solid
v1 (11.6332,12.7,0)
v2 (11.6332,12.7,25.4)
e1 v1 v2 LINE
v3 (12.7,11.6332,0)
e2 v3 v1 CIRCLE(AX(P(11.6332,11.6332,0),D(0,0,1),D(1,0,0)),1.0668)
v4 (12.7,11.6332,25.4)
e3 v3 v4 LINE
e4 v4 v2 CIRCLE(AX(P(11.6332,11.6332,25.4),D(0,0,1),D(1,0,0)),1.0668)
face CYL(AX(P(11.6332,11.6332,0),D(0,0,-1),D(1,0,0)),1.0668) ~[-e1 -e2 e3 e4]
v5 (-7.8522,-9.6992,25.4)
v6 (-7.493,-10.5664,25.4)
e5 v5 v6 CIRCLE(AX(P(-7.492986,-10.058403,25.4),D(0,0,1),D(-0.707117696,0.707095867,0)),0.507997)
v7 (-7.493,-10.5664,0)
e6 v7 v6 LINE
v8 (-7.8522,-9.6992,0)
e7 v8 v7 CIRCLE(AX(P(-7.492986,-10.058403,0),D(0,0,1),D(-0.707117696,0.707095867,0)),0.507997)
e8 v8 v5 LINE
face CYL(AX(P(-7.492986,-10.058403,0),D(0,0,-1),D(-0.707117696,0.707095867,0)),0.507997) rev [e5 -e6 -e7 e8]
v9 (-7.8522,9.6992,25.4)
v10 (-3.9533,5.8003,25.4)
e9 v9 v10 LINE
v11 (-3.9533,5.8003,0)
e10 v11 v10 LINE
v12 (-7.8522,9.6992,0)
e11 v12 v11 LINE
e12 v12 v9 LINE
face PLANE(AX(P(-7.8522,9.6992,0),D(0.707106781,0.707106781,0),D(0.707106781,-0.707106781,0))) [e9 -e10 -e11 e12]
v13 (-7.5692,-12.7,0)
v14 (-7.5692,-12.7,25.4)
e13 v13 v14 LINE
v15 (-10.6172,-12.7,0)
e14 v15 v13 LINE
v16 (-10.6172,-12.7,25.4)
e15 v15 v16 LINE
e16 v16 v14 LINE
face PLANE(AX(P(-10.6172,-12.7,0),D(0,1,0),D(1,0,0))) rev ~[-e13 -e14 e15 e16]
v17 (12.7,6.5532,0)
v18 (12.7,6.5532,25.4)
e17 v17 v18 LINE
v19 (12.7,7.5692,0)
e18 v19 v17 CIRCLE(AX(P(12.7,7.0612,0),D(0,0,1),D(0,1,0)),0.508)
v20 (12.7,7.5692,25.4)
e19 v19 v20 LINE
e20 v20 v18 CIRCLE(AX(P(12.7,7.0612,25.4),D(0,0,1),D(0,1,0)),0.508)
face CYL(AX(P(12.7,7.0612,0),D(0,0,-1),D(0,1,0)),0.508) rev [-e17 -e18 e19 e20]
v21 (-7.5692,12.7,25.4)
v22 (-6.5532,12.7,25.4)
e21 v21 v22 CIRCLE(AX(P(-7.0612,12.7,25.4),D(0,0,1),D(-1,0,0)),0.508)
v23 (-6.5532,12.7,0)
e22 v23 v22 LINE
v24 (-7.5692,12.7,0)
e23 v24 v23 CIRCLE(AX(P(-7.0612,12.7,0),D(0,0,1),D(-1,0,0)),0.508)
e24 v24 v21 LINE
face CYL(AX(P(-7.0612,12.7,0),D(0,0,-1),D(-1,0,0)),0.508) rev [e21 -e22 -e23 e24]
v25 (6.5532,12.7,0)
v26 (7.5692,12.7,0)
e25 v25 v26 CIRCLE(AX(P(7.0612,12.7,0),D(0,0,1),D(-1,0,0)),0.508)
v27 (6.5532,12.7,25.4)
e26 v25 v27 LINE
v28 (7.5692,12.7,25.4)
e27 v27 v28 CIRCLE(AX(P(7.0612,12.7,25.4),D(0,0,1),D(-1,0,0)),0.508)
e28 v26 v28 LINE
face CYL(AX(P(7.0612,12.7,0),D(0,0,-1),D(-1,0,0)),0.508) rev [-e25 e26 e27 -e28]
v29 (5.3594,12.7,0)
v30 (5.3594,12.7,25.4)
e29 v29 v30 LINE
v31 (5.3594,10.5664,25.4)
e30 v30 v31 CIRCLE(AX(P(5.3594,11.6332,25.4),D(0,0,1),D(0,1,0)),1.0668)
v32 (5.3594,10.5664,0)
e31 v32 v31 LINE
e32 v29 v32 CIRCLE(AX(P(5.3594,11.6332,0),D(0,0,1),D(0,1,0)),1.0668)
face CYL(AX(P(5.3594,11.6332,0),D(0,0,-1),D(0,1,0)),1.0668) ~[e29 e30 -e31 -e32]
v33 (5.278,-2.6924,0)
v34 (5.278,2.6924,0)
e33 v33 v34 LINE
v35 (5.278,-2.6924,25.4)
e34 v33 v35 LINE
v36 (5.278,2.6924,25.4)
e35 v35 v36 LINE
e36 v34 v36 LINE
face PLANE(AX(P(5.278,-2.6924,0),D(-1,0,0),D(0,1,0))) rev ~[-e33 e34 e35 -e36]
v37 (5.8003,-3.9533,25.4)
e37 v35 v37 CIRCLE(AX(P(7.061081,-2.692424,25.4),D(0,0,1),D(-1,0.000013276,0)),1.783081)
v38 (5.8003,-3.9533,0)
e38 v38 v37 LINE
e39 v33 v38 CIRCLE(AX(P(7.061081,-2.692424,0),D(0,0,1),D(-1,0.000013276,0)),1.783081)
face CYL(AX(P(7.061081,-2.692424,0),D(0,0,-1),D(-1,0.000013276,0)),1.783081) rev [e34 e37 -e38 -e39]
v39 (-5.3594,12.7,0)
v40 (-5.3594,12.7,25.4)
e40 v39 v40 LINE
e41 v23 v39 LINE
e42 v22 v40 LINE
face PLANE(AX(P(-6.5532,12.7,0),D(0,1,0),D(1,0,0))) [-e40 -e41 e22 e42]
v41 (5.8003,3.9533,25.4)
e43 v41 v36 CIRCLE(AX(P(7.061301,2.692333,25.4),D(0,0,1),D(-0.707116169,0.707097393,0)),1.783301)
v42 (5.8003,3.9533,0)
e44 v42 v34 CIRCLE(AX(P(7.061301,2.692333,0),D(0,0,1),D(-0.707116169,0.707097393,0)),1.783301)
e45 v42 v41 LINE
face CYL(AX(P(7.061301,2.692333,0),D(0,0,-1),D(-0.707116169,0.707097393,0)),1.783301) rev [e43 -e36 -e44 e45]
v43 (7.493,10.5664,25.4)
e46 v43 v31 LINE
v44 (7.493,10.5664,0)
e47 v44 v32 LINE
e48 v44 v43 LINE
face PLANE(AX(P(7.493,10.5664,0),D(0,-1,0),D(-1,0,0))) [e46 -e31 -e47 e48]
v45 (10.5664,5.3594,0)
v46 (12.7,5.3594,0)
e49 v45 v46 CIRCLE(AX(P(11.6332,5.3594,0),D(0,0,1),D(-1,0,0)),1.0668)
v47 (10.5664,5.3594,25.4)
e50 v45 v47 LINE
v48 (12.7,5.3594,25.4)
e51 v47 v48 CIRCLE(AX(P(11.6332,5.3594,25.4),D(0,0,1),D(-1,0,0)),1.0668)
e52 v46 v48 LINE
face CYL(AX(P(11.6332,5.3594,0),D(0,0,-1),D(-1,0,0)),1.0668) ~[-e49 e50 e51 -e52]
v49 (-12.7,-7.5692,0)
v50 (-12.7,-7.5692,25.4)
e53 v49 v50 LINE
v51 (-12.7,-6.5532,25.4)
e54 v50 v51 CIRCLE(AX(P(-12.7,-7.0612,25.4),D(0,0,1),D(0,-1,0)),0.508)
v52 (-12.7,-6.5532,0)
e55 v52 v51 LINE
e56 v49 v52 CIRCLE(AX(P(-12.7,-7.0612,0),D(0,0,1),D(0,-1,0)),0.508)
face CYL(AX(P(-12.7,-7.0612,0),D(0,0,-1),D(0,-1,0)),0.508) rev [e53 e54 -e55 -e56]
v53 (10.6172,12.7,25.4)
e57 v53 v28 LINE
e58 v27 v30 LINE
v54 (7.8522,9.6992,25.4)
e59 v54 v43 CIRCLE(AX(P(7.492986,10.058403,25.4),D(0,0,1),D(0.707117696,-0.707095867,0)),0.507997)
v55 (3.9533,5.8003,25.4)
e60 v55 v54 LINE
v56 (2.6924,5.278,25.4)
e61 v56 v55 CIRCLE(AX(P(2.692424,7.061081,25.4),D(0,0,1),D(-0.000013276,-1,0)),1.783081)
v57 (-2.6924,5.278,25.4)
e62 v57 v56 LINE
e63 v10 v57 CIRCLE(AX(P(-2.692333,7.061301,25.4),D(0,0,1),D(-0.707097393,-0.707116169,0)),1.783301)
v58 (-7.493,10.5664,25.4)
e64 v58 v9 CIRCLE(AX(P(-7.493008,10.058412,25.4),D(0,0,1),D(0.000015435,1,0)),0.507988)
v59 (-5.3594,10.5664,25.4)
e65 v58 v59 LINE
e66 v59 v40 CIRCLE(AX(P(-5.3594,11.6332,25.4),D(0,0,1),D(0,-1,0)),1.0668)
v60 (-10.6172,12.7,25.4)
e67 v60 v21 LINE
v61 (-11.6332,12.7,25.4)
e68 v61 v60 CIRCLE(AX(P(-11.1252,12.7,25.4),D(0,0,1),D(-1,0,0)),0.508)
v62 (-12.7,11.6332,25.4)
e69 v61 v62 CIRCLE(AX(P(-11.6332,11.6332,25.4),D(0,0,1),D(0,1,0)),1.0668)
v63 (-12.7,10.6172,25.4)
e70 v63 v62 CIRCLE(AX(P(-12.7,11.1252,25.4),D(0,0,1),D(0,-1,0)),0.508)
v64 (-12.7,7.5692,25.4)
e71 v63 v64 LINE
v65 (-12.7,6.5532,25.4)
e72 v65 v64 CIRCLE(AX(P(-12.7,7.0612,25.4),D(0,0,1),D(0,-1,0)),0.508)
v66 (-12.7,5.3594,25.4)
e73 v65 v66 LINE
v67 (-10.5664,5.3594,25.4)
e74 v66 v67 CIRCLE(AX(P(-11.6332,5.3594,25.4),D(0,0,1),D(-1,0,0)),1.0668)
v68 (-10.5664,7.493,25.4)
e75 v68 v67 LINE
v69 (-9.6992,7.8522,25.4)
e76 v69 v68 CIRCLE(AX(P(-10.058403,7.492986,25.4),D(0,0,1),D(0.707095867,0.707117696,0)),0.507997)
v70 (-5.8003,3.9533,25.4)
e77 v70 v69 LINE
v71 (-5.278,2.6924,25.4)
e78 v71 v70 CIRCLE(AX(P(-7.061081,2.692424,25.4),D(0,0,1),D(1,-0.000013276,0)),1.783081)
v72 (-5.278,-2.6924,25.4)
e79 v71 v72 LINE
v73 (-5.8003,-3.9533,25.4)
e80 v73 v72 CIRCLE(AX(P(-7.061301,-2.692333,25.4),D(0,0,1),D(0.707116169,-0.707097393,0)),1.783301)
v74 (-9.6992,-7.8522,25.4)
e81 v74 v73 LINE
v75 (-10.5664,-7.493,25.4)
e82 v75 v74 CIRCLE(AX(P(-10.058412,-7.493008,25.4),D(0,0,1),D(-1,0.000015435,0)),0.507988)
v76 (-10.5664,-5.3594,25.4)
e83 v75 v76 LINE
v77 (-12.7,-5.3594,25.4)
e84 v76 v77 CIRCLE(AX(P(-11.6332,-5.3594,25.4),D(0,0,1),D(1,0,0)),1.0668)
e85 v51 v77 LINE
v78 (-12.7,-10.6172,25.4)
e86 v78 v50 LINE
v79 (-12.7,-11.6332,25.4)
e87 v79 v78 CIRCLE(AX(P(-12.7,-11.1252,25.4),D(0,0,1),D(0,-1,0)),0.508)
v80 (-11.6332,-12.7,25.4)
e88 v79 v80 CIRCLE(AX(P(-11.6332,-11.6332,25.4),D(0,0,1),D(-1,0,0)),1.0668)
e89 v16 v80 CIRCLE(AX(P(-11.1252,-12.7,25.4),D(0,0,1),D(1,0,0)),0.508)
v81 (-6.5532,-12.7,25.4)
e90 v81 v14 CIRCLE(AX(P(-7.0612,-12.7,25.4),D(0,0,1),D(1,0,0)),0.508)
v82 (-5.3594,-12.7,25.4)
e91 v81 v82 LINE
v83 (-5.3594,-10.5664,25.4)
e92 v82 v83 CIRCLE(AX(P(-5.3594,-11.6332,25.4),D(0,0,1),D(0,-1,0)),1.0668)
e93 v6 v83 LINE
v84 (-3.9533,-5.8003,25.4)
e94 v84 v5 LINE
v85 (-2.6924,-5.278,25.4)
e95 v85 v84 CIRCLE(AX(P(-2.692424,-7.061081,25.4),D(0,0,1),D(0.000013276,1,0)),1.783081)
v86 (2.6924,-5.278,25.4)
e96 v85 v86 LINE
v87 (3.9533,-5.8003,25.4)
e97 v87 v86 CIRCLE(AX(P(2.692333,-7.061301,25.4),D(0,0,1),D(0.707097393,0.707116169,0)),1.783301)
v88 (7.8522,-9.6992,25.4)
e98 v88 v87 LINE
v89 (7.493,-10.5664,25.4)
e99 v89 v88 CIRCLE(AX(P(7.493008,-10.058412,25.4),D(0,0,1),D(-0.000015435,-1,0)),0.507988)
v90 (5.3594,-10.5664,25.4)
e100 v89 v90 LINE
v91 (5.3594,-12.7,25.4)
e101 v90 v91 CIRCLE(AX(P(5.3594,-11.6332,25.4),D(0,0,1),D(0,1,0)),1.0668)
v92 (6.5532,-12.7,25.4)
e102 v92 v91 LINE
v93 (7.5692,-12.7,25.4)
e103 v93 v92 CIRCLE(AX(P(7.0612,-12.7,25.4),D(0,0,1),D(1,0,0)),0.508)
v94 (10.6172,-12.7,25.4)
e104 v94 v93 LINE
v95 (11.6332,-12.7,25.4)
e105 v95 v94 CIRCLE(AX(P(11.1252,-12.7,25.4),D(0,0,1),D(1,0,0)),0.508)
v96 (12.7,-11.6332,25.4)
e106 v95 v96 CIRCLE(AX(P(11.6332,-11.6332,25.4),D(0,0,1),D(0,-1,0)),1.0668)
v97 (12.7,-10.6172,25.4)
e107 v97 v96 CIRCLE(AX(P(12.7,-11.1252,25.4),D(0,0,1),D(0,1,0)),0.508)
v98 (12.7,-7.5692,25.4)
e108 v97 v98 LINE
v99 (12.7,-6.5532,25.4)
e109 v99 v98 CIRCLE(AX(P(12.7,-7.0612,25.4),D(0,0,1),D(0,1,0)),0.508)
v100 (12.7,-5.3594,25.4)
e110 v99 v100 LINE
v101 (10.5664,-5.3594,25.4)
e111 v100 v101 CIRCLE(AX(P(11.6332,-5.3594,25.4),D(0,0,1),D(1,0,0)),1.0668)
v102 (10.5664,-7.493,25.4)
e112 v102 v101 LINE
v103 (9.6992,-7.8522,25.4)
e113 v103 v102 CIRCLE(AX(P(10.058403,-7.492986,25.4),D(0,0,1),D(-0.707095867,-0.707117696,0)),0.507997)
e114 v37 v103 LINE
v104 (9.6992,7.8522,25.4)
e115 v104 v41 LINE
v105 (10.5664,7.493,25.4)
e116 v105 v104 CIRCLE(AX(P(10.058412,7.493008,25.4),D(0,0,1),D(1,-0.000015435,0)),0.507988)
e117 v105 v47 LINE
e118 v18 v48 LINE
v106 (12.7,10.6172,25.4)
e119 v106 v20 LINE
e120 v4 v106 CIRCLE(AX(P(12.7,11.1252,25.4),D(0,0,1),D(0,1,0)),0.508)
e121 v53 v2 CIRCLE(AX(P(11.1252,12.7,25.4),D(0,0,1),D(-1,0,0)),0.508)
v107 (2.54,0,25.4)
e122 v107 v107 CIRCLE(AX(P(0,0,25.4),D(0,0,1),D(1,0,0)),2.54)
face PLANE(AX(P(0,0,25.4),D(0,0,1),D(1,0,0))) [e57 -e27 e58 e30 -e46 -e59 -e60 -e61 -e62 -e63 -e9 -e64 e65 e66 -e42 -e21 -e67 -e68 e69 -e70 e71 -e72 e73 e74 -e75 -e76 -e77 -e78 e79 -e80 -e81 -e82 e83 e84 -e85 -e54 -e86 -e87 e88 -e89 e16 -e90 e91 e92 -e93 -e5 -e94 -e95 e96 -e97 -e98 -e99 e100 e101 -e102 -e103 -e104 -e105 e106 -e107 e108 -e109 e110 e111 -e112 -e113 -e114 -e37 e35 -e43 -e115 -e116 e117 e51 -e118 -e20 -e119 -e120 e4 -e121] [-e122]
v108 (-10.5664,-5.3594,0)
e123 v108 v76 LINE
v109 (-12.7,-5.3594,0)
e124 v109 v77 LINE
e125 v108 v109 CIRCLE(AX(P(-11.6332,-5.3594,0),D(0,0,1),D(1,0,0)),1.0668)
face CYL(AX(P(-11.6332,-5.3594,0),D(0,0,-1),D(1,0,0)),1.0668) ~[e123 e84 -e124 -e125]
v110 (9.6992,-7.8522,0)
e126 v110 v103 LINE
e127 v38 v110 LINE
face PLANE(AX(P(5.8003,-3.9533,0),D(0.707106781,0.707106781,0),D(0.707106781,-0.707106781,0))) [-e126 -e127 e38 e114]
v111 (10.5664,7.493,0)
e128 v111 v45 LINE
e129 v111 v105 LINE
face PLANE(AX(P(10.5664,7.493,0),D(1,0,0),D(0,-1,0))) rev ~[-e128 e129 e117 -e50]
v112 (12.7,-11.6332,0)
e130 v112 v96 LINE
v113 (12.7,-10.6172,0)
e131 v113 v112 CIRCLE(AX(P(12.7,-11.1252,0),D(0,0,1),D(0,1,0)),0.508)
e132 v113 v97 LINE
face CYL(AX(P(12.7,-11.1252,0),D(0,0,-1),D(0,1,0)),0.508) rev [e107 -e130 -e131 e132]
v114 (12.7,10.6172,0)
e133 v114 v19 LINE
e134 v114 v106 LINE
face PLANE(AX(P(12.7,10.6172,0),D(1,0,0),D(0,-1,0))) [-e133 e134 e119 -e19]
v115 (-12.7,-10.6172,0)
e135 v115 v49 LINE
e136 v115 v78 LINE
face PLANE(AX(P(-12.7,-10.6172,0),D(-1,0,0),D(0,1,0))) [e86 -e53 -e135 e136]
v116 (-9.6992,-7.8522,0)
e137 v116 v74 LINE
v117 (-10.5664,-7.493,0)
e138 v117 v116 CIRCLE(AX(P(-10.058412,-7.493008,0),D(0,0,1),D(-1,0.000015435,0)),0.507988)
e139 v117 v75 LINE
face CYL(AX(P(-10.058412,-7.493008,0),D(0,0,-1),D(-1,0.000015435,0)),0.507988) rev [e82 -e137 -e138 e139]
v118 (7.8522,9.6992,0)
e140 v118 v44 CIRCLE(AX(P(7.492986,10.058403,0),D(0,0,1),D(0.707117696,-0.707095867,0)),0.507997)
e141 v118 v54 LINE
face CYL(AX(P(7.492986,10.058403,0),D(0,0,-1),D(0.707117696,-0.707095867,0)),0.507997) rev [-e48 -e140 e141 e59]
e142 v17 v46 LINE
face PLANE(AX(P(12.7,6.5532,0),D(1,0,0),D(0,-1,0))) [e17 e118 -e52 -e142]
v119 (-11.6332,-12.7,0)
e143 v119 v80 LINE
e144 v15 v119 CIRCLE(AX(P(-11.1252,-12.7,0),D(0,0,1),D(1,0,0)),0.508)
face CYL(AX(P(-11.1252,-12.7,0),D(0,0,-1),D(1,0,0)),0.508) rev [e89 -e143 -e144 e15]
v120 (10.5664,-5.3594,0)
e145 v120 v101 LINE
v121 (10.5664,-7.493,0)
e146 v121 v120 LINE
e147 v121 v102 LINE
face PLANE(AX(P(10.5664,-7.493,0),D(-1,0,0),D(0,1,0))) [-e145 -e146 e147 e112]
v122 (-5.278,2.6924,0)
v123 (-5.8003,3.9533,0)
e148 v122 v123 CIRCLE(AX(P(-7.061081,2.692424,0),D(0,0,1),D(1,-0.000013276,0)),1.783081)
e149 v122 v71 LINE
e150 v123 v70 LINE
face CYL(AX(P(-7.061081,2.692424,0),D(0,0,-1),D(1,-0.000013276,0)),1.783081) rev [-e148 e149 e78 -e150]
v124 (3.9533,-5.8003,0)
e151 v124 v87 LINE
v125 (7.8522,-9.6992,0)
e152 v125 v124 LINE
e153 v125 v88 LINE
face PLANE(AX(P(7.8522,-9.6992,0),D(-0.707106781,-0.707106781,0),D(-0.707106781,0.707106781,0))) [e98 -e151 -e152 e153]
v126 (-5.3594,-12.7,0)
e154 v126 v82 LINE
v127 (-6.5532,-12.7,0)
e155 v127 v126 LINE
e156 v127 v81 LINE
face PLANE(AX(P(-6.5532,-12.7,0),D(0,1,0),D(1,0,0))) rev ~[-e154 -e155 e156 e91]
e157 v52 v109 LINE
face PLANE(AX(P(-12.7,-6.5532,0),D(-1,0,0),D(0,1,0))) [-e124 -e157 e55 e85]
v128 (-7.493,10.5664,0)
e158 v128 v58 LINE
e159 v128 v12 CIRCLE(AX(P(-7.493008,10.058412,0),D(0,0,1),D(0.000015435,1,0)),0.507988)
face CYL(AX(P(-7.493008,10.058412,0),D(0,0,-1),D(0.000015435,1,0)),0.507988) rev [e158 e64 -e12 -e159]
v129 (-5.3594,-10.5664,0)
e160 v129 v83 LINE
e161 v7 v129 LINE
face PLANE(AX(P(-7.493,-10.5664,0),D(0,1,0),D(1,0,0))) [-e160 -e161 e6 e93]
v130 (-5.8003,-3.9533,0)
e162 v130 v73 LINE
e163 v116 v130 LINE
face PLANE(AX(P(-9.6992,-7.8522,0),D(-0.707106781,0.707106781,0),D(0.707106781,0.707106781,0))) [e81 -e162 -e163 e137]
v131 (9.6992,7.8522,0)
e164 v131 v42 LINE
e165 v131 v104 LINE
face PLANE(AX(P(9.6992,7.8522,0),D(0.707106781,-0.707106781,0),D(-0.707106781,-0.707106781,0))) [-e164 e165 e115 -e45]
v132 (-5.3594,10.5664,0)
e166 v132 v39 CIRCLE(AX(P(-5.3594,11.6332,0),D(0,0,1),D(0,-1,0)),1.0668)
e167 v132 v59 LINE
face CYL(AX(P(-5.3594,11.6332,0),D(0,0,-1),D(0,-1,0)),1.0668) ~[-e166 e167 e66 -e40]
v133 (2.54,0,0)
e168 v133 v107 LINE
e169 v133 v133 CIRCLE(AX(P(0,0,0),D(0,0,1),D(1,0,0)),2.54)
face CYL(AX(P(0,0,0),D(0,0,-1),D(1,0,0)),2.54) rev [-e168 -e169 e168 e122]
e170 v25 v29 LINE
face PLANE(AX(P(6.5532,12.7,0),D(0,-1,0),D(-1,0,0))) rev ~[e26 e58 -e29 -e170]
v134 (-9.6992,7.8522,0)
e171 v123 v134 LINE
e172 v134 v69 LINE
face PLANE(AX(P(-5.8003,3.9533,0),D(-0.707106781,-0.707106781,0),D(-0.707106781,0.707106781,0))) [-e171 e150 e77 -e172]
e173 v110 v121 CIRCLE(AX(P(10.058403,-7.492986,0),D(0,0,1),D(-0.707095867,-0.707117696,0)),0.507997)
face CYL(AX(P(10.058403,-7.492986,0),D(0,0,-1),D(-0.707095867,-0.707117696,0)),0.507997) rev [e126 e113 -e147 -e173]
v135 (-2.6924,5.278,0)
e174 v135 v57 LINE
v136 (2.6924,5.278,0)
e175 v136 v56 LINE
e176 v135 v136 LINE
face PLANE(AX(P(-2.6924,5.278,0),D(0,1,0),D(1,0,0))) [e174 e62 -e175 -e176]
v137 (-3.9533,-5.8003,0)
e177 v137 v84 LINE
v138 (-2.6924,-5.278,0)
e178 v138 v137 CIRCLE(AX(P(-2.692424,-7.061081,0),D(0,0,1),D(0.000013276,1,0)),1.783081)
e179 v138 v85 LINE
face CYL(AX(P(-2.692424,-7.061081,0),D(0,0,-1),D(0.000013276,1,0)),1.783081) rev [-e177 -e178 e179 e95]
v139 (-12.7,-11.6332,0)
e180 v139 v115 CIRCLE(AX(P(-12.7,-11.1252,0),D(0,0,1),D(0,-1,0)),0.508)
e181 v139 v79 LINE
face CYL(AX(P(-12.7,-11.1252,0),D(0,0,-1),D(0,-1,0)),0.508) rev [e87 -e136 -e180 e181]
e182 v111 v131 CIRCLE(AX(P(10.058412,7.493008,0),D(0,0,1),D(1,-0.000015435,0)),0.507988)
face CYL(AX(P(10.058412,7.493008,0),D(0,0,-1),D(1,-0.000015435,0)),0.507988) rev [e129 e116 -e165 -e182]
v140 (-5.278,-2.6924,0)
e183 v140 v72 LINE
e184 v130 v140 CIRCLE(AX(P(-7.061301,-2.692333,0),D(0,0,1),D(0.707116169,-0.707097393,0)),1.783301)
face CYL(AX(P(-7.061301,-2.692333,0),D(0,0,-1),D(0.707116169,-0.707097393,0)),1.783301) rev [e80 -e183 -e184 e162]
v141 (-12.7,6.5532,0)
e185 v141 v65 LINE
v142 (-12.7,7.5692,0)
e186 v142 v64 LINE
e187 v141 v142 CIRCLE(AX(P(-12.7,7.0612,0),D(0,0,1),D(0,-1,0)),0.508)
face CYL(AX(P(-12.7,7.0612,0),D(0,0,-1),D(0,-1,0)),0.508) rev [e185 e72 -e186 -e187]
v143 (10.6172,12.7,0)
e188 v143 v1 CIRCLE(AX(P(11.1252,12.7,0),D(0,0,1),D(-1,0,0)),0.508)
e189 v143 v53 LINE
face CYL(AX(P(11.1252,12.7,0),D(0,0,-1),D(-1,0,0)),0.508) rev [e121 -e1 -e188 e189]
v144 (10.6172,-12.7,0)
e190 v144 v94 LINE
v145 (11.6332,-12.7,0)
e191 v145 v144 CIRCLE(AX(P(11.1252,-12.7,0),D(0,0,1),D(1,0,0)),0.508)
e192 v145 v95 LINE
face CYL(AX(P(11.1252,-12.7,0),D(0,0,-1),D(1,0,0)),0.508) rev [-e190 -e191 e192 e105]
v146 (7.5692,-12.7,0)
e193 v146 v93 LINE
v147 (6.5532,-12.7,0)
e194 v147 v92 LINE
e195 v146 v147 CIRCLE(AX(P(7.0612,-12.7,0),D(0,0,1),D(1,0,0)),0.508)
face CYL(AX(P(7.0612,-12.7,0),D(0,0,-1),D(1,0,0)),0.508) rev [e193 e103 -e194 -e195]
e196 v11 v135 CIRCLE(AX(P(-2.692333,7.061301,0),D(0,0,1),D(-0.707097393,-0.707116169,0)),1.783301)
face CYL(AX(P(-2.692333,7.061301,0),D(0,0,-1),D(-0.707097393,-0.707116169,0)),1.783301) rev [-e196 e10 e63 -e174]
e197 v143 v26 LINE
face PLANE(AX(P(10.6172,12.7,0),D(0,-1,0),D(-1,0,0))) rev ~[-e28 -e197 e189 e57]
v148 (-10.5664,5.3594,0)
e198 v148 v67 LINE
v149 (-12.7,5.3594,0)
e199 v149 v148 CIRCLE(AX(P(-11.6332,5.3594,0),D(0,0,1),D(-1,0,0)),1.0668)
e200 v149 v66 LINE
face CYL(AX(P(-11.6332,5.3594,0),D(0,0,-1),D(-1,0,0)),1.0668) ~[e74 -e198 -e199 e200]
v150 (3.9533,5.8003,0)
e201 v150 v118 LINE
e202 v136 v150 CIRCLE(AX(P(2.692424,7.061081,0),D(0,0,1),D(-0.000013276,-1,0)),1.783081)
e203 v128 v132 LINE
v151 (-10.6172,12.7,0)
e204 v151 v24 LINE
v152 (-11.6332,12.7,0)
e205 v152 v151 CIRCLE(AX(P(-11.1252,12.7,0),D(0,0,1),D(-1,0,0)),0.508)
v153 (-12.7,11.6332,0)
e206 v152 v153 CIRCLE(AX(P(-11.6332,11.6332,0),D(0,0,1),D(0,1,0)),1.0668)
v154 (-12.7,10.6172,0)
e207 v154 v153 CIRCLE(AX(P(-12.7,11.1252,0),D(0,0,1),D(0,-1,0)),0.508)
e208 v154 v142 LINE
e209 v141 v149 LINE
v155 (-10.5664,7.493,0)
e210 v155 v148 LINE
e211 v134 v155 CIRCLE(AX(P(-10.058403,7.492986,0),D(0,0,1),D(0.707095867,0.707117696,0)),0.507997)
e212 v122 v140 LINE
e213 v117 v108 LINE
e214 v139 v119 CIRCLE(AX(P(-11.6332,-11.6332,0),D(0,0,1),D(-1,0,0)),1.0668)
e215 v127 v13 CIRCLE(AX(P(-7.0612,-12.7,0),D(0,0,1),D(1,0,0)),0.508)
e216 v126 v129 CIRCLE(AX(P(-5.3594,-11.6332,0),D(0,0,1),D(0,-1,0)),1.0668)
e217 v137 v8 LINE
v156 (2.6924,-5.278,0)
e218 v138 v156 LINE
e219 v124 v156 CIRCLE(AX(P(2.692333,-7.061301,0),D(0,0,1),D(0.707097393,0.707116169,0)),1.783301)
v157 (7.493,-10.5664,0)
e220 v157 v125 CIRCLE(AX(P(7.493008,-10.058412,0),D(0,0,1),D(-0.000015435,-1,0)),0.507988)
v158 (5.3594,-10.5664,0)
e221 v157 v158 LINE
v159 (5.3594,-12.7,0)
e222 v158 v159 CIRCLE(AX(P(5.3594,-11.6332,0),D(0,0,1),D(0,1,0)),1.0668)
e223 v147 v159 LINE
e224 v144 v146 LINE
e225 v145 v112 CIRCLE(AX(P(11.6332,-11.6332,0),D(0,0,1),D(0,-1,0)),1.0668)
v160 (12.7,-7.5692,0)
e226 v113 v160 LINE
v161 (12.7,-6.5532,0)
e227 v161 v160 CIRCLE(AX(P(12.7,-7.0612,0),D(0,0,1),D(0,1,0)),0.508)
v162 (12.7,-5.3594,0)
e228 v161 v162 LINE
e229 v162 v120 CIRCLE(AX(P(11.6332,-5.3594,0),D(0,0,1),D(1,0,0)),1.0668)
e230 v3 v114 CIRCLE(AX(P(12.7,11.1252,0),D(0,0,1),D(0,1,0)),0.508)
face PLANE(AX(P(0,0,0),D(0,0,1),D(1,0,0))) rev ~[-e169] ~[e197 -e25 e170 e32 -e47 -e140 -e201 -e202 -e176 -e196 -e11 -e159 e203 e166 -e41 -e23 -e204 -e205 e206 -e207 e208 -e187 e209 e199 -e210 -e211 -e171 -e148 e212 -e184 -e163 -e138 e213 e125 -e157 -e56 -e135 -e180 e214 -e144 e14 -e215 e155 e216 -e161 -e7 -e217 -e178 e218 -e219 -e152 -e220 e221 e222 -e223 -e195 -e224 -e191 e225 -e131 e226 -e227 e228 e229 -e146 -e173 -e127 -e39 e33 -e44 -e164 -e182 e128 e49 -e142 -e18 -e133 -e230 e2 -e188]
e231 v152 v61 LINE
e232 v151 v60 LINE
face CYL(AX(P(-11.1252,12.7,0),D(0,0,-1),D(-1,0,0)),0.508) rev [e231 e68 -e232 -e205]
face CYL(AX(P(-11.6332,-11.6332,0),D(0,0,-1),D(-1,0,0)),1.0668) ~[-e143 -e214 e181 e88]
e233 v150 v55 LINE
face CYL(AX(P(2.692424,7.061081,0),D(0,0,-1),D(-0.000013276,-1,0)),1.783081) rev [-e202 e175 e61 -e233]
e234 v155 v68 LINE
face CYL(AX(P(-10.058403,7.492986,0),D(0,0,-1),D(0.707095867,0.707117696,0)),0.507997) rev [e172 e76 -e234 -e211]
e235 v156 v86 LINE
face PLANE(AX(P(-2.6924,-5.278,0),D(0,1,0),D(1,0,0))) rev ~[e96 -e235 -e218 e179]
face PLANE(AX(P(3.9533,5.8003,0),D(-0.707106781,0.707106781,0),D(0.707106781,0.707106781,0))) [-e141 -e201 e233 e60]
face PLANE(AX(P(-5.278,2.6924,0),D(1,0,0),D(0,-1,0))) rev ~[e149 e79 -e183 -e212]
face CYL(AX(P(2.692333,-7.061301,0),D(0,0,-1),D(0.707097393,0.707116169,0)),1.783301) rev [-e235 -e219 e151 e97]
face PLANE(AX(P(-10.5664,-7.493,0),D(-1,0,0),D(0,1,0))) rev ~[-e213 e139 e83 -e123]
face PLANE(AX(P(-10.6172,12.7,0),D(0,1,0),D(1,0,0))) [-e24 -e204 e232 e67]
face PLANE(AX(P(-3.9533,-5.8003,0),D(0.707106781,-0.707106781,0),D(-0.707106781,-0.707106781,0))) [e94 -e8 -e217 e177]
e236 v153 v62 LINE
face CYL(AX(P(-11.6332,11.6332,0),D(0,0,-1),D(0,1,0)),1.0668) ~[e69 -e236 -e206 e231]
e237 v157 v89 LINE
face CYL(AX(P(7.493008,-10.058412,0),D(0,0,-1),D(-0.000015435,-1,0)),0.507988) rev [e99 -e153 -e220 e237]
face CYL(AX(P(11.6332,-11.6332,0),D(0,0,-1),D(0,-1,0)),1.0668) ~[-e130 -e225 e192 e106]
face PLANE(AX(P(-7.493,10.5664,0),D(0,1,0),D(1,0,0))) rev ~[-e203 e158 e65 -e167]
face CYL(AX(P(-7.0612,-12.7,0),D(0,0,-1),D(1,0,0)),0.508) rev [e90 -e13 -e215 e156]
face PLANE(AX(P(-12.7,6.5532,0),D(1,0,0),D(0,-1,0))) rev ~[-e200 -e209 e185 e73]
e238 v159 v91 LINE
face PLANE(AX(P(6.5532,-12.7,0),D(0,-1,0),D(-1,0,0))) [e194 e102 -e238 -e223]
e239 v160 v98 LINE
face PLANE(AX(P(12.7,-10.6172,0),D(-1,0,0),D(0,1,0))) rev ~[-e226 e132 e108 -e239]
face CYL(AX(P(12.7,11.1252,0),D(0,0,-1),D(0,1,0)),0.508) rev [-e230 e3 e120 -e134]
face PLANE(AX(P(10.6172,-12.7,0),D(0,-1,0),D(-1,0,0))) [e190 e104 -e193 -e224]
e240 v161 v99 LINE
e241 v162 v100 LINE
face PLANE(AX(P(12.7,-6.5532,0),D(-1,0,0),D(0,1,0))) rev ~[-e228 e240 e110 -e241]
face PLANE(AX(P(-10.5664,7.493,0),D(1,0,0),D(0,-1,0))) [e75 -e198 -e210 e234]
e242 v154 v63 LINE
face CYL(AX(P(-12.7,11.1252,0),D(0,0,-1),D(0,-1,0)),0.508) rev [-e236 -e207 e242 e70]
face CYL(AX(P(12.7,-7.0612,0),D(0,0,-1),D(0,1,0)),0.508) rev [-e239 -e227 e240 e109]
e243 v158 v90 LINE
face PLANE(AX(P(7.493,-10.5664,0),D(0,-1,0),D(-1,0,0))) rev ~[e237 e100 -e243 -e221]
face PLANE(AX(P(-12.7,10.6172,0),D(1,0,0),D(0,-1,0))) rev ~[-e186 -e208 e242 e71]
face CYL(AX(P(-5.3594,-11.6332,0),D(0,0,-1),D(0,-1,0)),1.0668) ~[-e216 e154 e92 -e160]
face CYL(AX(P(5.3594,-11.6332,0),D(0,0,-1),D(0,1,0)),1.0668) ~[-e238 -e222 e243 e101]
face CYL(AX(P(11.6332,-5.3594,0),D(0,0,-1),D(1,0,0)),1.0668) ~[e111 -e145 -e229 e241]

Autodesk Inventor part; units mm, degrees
ref_plane "YZ Plane" through (0, 0, 0) normal (1, 0, 0) x (0, 1, 0)
ref_plane "Start Plane" through (0, 0, 0) normal (0, 0, 1) x (1, 0, 0)
ref_plane "End Plane" through (0, 0, 25.4) normal (0, 0, 1) x (1, 0, 0)
sketch "Sketch1" plane through (0, 0, 0) normal (0, 0, 1) x (1, 0, 0)
  arc A0 (-11.6332, 12.7) -> (-12.7, 11.6332) centre (-11.6332, 11.6332) ccw
  arc A1 (-5.3594, 10.5664) -> (-5.3594, 12.7) centre (-5.3594, 11.6332) ccw
  arc A2 (-12.7, 5.3594) -> (-10.5664, 5.3594) centre (-11.6332, 5.3594) ccw
  line L0 (-10.5664, 7.493) -> (-10.5664, 5.3594)
  line L1 (-7.493, 10.5664) -> (-5.3594, 10.5664)
  arc A3 (-9.6992, 7.8522) -> (-10.5664, 7.493) centre (-10.0584, 7.493) ccw
  arc A4 (-7.493, 10.5664) -> (-7.8522, 9.6992) centre (-7.493, 10.0584) ccw
  line L2 (-11.6332, 11.6332) -> (0, 0) construction
  line L3 (-5.8003, 3.9533) -> (-9.6992, 7.8522)
  line L4 (-7.8522, 9.6992) -> (-3.9533, 5.8003)
  arc A5 (-3.9533, 5.8003) -> (-2.6924, 5.278) centre (-2.6924, 7.0612) ccw
  arc A6 (-5.278, 2.6924) -> (-5.8003, 3.9533) centre (-7.0612, 2.6924) ccw
  arc A7 (0, 2.54) -> (-2.54, 0) centre (0, 0) ccw construction
  line L5 (0, 0) -> (-12.7, 0) construction
  line L6 (0, 12.7) -> (0, 0) construction
  arc A8 (-11.6332, 12.7) -> (-10.6172, 12.7) centre (-11.1252, 12.7) ccw
  arc A9 (-7.5692, 12.7) -> (-6.5532, 12.7) centre (-7.0612, 12.7) ccw
  arc A10 (-12.7, 10.6172) -> (-12.7, 11.6332) centre (-12.7, 11.1252) ccw
  arc A11 (-12.7, 6.5532) -> (-12.7, 7.5692) centre (-12.7, 7.0612) ccw
  line L7 (-12.7, 10.6172) -> (-12.7, 7.5692)
  line L8 (-12.7, 6.5532) -> (-12.7, 5.3594)
  line L9 (-10.6172, 12.7) -> (-7.5692, 12.7)
  line L10 (-6.5532, 12.7) -> (-5.3594, 12.7)
  circle A12 centre (0, 0) radius 2.54
  arc A13 (-12.7, -11.6332) -> (-11.6332, -12.7) centre (-11.6332, -11.6332) ccw
  line L11 (-12.7, -10.6172) -> (-12.7, -7.5692)
  arc A14 (-10.5664, -7.493) -> (-9.6992, -7.8522) centre (-10.0584, -7.493) ccw
  line L12 (-9.6992, -7.8522) -> (-5.8003, -3.9533)
  line L13 (-11.6332, -11.6332) -> (0, 0) construction
  line L14 (-3.9533, -5.8003) -> (-7.8522, -9.6992)
  arc A15 (-7.8522, -9.6992) -> (-7.493, -10.5664) centre (-7.493, -10.0584) ccw
  line L15 (-10.6172, -12.7) -> (-7.5692, -12.7)
  line L16 (-7.493, -10.5664) -> (-5.3594, -10.5664)
  arc A16 (-6.5532, -12.7) -> (-7.5692, -12.7) centre (-7.0612, -12.7) ccw
  line L17 (-6.5532, -12.7) -> (-5.3594, -12.7)
  arc A17 (-5.3594, -12.7) -> (-5.3594, -10.5664) centre (-5.3594, -11.6332) ccw
  arc A18 (-10.6172, -12.7) -> (-11.6332, -12.7) centre (-11.1252, -12.7) ccw
  arc A19 (-12.7, -11.6332) -> (-12.7, -10.6172) centre (-12.7, -11.1252) ccw
  arc A20 (-2.6924, -5.278) -> (-3.9533, -5.8003) centre (-2.6924, -7.0612) ccw
  arc A21 (-5.8003, -3.9533) -> (-5.278, -2.6924) centre (-7.0612, -2.6924) ccw
  line L18 (-10.5664, -7.493) -> (-10.5664, -5.3594)
  line L19 (-12.7, -6.5532) -> (-12.7, -5.3594)
  arc A22 (-10.5664, -5.3594) -> (-12.7, -5.3594) centre (-11.6332, -5.3594) ccw
  arc A23 (-12.7, -7.5692) -> (-12.7, -6.5532) centre (-12.7, -7.0612) ccw
  arc A24 (11.6332, -12.7) -> (12.7, -11.6332) centre (11.6332, -11.6332) ccw
  line L20 (10.6172, -12.7) -> (7.5692, -12.7)
  arc A25 (7.493, -10.5664) -> (7.8522, -9.6992) centre (7.493, -10.0584) ccw
  line L21 (7.8522, -9.6992) -> (3.9533, -5.8003)
  line L22 (11.6332, -11.6332) -> (0, 0) construction
  line L23 (5.8003, -3.9533) -> (9.6992, -7.8522)
  arc A26 (9.6992, -7.8522) -> (10.5664, -7.493) centre (10.0584, -7.493) ccw
  line L24 (12.7, -10.6172) -> (12.7, -7.5692)
  line L25 (10.5664, -7.493) -> (10.5664, -5.3594)
  arc A27 (12.7, -6.5532) -> (12.7, -7.5692) centre (12.7, -7.0612) ccw
  line L26 (12.7, -6.5532) -> (12.7, -5.3594)
  arc A28 (12.7, -5.3594) -> (10.5664, -5.3594) centre (11.6332, -5.3594) ccw
  arc A29 (12.7, -10.6172) -> (12.7, -11.6332) centre (12.7, -11.1252) ccw
  arc A30 (11.6332, -12.7) -> (10.6172, -12.7) centre (11.1252, -12.7) ccw
  arc A31 (5.278, -2.6924) -> (5.8003, -3.9533) centre (7.0612, -2.6924) ccw
  arc A32 (3.9533, -5.8003) -> (2.6924, -5.278) centre (2.6924, -7.0612) ccw
  line L27 (7.493, -10.5664) -> (5.3594, -10.5664)
  line L28 (6.5532, -12.7) -> (5.3594, -12.7)
  arc A33 (5.3594, -10.5664) -> (5.3594, -12.7) centre (5.3594, -11.6332) ccw
  arc A34 (7.5692, -12.7) -> (6.5532, -12.7) centre (7.0612, -12.7) ccw
  arc A35 (12.7, 11.6332) -> (11.6332, 12.7) centre (11.6332, 11.6332) ccw
  line L29 (12.7, 10.6172) -> (12.7, 7.5692)
  arc A36 (10.5664, 7.493) -> (9.6992, 7.8522) centre (10.0584, 7.493) ccw
  line L30 (9.6992, 7.8522) -> (5.8003, 3.9533)
  line L31 (11.6332, 11.6332) -> (0, 0) construction
  line L32 (3.9533, 5.8003) -> (7.8522, 9.6992)
  arc A37 (7.8522, 9.6992) -> (7.493, 10.5664) centre (7.493, 10.0584) ccw
  line L33 (10.6172, 12.7) -> (7.5692, 12.7)
  line L34 (7.493, 10.5664) -> (5.3594, 10.5664)
  arc A38 (6.5532, 12.7) -> (7.5692, 12.7) centre (7.0612, 12.7) ccw
  line L35 (6.5532, 12.7) -> (5.3594, 12.7)
  arc A39 (5.3594, 12.7) -> (5.3594, 10.5664) centre (5.3594, 11.6332) ccw
  arc A40 (10.6172, 12.7) -> (11.6332, 12.7) centre (11.1252, 12.7) ccw
  arc A41 (12.7, 11.6332) -> (12.7, 10.6172) centre (12.7, 11.1252) ccw
  arc A42 (2.6924, 5.278) -> (3.9533, 5.8003) centre (2.6924, 7.0612) ccw
  arc A43 (5.8003, 3.9533) -> (5.278, 2.6924) centre (7.0612, 2.6924) ccw
  line L36 (10.5664, 7.493) -> (10.5664, 5.3594)
  line L37 (12.7, 6.5532) -> (12.7, 5.3594)
  arc A44 (10.5664, 5.3594) -> (12.7, 5.3594) centre (11.6332, 5.3594) ccw
  arc A45 (12.7, 7.5692) -> (12.7, 6.5532) centre (12.7, 7.0612) ccw
  line L38 (-2.6924, 5.278) -> (2.6924, 5.278)
  line L39 (-5.278, 2.6924) -> (-5.278, -2.6924)
  line L40 (-2.6924, -5.278) -> (2.6924, -5.278)
  line L41 (5.278, -2.6924) -> (5.278, 2.6924)
  point P0 (0, 0)
  point P1 (0, 0)
  dimension "d2" = 2.1336
  dimension "d3" = 6.2738
  dimension "d4" = 6.2738
  dimension "d5" = 1.0668
  dimension "d6" = 2.1336
  dimension "d7" = 2.1336
  dimension "d8" = 1.016
  dimension "d9" = 1.016
  dimension "d10" = 135
  dimension "d11" = 2.667
  dimension "d12" = 4.572
  dimension "d13" = 4.572
  dimension "d14" = 2.667
  dimension "d15" = 5.08
  dimension "d16" = 45
  dimension "d19" = 45
  dimension "d20" = 0.508
  dimension "d21" = 4.572
  dimension "d22" = 1.016
  dimension "d23" = 4.572
  dimension "d24" = 1.016
  dimension "d25" = 0.508
  dimension "d26" = 0.508
  dimension "d27" = 0.508
  dimension "d28" = 12.7
  dimension "d37" = 360
  dimension "d47" = 10.5664
  dimension "d48" = 12.7
extrude "Body" add sketch "Sketch1" along normal up to surface (25.4 mm away) from surface at 0
sketch "Sketch4" plane through (0, 0, 0) normal (0, 0, 1) x (1, 0, 0)
  line L0 (0, 0) -> (10, 0)
ref_plane "Work Plane4" through (0, 0, 0) normal (0, -1, 0) x (1, 0, 0)
sketch "Sketch5" plane through (0, 0, 0) normal (0, -1, 0) x (1, 0, 0)
  line L0 (-17.78, 0) -> (17.78, 0)
  line L1 (-17.78, 25.4) -> (17.78, 25.4)
  dimension "d60" = 25.4
equation "\"d3\" = d4"
equation "\"d6\" = d7"
equation "\"d11\" = d14"
equation "\"d12\" = d13"
equation "\"d23\" = d21"
equation "\"d24\" = d30"
equation "\"d26\" = 0.5 * d24"
equation "\"d27\" = 0.5 * d22"
equation "\"Width\" = 2 * d28"
equation "\"Height\" = 2 * d48"
equation "\"G_OFFSET_START\" = 0"
equation "\"G_OFFSET_END\" = 0"
equation "\"d56\" = Length + G_OFFSET_END"
equation "\"G_L\" = d60"
equation "\"d30\" = 1.016"
equation "\"Length\" = 25.4"
properties part number "1010_80_20" material "Aluminum-6061"
